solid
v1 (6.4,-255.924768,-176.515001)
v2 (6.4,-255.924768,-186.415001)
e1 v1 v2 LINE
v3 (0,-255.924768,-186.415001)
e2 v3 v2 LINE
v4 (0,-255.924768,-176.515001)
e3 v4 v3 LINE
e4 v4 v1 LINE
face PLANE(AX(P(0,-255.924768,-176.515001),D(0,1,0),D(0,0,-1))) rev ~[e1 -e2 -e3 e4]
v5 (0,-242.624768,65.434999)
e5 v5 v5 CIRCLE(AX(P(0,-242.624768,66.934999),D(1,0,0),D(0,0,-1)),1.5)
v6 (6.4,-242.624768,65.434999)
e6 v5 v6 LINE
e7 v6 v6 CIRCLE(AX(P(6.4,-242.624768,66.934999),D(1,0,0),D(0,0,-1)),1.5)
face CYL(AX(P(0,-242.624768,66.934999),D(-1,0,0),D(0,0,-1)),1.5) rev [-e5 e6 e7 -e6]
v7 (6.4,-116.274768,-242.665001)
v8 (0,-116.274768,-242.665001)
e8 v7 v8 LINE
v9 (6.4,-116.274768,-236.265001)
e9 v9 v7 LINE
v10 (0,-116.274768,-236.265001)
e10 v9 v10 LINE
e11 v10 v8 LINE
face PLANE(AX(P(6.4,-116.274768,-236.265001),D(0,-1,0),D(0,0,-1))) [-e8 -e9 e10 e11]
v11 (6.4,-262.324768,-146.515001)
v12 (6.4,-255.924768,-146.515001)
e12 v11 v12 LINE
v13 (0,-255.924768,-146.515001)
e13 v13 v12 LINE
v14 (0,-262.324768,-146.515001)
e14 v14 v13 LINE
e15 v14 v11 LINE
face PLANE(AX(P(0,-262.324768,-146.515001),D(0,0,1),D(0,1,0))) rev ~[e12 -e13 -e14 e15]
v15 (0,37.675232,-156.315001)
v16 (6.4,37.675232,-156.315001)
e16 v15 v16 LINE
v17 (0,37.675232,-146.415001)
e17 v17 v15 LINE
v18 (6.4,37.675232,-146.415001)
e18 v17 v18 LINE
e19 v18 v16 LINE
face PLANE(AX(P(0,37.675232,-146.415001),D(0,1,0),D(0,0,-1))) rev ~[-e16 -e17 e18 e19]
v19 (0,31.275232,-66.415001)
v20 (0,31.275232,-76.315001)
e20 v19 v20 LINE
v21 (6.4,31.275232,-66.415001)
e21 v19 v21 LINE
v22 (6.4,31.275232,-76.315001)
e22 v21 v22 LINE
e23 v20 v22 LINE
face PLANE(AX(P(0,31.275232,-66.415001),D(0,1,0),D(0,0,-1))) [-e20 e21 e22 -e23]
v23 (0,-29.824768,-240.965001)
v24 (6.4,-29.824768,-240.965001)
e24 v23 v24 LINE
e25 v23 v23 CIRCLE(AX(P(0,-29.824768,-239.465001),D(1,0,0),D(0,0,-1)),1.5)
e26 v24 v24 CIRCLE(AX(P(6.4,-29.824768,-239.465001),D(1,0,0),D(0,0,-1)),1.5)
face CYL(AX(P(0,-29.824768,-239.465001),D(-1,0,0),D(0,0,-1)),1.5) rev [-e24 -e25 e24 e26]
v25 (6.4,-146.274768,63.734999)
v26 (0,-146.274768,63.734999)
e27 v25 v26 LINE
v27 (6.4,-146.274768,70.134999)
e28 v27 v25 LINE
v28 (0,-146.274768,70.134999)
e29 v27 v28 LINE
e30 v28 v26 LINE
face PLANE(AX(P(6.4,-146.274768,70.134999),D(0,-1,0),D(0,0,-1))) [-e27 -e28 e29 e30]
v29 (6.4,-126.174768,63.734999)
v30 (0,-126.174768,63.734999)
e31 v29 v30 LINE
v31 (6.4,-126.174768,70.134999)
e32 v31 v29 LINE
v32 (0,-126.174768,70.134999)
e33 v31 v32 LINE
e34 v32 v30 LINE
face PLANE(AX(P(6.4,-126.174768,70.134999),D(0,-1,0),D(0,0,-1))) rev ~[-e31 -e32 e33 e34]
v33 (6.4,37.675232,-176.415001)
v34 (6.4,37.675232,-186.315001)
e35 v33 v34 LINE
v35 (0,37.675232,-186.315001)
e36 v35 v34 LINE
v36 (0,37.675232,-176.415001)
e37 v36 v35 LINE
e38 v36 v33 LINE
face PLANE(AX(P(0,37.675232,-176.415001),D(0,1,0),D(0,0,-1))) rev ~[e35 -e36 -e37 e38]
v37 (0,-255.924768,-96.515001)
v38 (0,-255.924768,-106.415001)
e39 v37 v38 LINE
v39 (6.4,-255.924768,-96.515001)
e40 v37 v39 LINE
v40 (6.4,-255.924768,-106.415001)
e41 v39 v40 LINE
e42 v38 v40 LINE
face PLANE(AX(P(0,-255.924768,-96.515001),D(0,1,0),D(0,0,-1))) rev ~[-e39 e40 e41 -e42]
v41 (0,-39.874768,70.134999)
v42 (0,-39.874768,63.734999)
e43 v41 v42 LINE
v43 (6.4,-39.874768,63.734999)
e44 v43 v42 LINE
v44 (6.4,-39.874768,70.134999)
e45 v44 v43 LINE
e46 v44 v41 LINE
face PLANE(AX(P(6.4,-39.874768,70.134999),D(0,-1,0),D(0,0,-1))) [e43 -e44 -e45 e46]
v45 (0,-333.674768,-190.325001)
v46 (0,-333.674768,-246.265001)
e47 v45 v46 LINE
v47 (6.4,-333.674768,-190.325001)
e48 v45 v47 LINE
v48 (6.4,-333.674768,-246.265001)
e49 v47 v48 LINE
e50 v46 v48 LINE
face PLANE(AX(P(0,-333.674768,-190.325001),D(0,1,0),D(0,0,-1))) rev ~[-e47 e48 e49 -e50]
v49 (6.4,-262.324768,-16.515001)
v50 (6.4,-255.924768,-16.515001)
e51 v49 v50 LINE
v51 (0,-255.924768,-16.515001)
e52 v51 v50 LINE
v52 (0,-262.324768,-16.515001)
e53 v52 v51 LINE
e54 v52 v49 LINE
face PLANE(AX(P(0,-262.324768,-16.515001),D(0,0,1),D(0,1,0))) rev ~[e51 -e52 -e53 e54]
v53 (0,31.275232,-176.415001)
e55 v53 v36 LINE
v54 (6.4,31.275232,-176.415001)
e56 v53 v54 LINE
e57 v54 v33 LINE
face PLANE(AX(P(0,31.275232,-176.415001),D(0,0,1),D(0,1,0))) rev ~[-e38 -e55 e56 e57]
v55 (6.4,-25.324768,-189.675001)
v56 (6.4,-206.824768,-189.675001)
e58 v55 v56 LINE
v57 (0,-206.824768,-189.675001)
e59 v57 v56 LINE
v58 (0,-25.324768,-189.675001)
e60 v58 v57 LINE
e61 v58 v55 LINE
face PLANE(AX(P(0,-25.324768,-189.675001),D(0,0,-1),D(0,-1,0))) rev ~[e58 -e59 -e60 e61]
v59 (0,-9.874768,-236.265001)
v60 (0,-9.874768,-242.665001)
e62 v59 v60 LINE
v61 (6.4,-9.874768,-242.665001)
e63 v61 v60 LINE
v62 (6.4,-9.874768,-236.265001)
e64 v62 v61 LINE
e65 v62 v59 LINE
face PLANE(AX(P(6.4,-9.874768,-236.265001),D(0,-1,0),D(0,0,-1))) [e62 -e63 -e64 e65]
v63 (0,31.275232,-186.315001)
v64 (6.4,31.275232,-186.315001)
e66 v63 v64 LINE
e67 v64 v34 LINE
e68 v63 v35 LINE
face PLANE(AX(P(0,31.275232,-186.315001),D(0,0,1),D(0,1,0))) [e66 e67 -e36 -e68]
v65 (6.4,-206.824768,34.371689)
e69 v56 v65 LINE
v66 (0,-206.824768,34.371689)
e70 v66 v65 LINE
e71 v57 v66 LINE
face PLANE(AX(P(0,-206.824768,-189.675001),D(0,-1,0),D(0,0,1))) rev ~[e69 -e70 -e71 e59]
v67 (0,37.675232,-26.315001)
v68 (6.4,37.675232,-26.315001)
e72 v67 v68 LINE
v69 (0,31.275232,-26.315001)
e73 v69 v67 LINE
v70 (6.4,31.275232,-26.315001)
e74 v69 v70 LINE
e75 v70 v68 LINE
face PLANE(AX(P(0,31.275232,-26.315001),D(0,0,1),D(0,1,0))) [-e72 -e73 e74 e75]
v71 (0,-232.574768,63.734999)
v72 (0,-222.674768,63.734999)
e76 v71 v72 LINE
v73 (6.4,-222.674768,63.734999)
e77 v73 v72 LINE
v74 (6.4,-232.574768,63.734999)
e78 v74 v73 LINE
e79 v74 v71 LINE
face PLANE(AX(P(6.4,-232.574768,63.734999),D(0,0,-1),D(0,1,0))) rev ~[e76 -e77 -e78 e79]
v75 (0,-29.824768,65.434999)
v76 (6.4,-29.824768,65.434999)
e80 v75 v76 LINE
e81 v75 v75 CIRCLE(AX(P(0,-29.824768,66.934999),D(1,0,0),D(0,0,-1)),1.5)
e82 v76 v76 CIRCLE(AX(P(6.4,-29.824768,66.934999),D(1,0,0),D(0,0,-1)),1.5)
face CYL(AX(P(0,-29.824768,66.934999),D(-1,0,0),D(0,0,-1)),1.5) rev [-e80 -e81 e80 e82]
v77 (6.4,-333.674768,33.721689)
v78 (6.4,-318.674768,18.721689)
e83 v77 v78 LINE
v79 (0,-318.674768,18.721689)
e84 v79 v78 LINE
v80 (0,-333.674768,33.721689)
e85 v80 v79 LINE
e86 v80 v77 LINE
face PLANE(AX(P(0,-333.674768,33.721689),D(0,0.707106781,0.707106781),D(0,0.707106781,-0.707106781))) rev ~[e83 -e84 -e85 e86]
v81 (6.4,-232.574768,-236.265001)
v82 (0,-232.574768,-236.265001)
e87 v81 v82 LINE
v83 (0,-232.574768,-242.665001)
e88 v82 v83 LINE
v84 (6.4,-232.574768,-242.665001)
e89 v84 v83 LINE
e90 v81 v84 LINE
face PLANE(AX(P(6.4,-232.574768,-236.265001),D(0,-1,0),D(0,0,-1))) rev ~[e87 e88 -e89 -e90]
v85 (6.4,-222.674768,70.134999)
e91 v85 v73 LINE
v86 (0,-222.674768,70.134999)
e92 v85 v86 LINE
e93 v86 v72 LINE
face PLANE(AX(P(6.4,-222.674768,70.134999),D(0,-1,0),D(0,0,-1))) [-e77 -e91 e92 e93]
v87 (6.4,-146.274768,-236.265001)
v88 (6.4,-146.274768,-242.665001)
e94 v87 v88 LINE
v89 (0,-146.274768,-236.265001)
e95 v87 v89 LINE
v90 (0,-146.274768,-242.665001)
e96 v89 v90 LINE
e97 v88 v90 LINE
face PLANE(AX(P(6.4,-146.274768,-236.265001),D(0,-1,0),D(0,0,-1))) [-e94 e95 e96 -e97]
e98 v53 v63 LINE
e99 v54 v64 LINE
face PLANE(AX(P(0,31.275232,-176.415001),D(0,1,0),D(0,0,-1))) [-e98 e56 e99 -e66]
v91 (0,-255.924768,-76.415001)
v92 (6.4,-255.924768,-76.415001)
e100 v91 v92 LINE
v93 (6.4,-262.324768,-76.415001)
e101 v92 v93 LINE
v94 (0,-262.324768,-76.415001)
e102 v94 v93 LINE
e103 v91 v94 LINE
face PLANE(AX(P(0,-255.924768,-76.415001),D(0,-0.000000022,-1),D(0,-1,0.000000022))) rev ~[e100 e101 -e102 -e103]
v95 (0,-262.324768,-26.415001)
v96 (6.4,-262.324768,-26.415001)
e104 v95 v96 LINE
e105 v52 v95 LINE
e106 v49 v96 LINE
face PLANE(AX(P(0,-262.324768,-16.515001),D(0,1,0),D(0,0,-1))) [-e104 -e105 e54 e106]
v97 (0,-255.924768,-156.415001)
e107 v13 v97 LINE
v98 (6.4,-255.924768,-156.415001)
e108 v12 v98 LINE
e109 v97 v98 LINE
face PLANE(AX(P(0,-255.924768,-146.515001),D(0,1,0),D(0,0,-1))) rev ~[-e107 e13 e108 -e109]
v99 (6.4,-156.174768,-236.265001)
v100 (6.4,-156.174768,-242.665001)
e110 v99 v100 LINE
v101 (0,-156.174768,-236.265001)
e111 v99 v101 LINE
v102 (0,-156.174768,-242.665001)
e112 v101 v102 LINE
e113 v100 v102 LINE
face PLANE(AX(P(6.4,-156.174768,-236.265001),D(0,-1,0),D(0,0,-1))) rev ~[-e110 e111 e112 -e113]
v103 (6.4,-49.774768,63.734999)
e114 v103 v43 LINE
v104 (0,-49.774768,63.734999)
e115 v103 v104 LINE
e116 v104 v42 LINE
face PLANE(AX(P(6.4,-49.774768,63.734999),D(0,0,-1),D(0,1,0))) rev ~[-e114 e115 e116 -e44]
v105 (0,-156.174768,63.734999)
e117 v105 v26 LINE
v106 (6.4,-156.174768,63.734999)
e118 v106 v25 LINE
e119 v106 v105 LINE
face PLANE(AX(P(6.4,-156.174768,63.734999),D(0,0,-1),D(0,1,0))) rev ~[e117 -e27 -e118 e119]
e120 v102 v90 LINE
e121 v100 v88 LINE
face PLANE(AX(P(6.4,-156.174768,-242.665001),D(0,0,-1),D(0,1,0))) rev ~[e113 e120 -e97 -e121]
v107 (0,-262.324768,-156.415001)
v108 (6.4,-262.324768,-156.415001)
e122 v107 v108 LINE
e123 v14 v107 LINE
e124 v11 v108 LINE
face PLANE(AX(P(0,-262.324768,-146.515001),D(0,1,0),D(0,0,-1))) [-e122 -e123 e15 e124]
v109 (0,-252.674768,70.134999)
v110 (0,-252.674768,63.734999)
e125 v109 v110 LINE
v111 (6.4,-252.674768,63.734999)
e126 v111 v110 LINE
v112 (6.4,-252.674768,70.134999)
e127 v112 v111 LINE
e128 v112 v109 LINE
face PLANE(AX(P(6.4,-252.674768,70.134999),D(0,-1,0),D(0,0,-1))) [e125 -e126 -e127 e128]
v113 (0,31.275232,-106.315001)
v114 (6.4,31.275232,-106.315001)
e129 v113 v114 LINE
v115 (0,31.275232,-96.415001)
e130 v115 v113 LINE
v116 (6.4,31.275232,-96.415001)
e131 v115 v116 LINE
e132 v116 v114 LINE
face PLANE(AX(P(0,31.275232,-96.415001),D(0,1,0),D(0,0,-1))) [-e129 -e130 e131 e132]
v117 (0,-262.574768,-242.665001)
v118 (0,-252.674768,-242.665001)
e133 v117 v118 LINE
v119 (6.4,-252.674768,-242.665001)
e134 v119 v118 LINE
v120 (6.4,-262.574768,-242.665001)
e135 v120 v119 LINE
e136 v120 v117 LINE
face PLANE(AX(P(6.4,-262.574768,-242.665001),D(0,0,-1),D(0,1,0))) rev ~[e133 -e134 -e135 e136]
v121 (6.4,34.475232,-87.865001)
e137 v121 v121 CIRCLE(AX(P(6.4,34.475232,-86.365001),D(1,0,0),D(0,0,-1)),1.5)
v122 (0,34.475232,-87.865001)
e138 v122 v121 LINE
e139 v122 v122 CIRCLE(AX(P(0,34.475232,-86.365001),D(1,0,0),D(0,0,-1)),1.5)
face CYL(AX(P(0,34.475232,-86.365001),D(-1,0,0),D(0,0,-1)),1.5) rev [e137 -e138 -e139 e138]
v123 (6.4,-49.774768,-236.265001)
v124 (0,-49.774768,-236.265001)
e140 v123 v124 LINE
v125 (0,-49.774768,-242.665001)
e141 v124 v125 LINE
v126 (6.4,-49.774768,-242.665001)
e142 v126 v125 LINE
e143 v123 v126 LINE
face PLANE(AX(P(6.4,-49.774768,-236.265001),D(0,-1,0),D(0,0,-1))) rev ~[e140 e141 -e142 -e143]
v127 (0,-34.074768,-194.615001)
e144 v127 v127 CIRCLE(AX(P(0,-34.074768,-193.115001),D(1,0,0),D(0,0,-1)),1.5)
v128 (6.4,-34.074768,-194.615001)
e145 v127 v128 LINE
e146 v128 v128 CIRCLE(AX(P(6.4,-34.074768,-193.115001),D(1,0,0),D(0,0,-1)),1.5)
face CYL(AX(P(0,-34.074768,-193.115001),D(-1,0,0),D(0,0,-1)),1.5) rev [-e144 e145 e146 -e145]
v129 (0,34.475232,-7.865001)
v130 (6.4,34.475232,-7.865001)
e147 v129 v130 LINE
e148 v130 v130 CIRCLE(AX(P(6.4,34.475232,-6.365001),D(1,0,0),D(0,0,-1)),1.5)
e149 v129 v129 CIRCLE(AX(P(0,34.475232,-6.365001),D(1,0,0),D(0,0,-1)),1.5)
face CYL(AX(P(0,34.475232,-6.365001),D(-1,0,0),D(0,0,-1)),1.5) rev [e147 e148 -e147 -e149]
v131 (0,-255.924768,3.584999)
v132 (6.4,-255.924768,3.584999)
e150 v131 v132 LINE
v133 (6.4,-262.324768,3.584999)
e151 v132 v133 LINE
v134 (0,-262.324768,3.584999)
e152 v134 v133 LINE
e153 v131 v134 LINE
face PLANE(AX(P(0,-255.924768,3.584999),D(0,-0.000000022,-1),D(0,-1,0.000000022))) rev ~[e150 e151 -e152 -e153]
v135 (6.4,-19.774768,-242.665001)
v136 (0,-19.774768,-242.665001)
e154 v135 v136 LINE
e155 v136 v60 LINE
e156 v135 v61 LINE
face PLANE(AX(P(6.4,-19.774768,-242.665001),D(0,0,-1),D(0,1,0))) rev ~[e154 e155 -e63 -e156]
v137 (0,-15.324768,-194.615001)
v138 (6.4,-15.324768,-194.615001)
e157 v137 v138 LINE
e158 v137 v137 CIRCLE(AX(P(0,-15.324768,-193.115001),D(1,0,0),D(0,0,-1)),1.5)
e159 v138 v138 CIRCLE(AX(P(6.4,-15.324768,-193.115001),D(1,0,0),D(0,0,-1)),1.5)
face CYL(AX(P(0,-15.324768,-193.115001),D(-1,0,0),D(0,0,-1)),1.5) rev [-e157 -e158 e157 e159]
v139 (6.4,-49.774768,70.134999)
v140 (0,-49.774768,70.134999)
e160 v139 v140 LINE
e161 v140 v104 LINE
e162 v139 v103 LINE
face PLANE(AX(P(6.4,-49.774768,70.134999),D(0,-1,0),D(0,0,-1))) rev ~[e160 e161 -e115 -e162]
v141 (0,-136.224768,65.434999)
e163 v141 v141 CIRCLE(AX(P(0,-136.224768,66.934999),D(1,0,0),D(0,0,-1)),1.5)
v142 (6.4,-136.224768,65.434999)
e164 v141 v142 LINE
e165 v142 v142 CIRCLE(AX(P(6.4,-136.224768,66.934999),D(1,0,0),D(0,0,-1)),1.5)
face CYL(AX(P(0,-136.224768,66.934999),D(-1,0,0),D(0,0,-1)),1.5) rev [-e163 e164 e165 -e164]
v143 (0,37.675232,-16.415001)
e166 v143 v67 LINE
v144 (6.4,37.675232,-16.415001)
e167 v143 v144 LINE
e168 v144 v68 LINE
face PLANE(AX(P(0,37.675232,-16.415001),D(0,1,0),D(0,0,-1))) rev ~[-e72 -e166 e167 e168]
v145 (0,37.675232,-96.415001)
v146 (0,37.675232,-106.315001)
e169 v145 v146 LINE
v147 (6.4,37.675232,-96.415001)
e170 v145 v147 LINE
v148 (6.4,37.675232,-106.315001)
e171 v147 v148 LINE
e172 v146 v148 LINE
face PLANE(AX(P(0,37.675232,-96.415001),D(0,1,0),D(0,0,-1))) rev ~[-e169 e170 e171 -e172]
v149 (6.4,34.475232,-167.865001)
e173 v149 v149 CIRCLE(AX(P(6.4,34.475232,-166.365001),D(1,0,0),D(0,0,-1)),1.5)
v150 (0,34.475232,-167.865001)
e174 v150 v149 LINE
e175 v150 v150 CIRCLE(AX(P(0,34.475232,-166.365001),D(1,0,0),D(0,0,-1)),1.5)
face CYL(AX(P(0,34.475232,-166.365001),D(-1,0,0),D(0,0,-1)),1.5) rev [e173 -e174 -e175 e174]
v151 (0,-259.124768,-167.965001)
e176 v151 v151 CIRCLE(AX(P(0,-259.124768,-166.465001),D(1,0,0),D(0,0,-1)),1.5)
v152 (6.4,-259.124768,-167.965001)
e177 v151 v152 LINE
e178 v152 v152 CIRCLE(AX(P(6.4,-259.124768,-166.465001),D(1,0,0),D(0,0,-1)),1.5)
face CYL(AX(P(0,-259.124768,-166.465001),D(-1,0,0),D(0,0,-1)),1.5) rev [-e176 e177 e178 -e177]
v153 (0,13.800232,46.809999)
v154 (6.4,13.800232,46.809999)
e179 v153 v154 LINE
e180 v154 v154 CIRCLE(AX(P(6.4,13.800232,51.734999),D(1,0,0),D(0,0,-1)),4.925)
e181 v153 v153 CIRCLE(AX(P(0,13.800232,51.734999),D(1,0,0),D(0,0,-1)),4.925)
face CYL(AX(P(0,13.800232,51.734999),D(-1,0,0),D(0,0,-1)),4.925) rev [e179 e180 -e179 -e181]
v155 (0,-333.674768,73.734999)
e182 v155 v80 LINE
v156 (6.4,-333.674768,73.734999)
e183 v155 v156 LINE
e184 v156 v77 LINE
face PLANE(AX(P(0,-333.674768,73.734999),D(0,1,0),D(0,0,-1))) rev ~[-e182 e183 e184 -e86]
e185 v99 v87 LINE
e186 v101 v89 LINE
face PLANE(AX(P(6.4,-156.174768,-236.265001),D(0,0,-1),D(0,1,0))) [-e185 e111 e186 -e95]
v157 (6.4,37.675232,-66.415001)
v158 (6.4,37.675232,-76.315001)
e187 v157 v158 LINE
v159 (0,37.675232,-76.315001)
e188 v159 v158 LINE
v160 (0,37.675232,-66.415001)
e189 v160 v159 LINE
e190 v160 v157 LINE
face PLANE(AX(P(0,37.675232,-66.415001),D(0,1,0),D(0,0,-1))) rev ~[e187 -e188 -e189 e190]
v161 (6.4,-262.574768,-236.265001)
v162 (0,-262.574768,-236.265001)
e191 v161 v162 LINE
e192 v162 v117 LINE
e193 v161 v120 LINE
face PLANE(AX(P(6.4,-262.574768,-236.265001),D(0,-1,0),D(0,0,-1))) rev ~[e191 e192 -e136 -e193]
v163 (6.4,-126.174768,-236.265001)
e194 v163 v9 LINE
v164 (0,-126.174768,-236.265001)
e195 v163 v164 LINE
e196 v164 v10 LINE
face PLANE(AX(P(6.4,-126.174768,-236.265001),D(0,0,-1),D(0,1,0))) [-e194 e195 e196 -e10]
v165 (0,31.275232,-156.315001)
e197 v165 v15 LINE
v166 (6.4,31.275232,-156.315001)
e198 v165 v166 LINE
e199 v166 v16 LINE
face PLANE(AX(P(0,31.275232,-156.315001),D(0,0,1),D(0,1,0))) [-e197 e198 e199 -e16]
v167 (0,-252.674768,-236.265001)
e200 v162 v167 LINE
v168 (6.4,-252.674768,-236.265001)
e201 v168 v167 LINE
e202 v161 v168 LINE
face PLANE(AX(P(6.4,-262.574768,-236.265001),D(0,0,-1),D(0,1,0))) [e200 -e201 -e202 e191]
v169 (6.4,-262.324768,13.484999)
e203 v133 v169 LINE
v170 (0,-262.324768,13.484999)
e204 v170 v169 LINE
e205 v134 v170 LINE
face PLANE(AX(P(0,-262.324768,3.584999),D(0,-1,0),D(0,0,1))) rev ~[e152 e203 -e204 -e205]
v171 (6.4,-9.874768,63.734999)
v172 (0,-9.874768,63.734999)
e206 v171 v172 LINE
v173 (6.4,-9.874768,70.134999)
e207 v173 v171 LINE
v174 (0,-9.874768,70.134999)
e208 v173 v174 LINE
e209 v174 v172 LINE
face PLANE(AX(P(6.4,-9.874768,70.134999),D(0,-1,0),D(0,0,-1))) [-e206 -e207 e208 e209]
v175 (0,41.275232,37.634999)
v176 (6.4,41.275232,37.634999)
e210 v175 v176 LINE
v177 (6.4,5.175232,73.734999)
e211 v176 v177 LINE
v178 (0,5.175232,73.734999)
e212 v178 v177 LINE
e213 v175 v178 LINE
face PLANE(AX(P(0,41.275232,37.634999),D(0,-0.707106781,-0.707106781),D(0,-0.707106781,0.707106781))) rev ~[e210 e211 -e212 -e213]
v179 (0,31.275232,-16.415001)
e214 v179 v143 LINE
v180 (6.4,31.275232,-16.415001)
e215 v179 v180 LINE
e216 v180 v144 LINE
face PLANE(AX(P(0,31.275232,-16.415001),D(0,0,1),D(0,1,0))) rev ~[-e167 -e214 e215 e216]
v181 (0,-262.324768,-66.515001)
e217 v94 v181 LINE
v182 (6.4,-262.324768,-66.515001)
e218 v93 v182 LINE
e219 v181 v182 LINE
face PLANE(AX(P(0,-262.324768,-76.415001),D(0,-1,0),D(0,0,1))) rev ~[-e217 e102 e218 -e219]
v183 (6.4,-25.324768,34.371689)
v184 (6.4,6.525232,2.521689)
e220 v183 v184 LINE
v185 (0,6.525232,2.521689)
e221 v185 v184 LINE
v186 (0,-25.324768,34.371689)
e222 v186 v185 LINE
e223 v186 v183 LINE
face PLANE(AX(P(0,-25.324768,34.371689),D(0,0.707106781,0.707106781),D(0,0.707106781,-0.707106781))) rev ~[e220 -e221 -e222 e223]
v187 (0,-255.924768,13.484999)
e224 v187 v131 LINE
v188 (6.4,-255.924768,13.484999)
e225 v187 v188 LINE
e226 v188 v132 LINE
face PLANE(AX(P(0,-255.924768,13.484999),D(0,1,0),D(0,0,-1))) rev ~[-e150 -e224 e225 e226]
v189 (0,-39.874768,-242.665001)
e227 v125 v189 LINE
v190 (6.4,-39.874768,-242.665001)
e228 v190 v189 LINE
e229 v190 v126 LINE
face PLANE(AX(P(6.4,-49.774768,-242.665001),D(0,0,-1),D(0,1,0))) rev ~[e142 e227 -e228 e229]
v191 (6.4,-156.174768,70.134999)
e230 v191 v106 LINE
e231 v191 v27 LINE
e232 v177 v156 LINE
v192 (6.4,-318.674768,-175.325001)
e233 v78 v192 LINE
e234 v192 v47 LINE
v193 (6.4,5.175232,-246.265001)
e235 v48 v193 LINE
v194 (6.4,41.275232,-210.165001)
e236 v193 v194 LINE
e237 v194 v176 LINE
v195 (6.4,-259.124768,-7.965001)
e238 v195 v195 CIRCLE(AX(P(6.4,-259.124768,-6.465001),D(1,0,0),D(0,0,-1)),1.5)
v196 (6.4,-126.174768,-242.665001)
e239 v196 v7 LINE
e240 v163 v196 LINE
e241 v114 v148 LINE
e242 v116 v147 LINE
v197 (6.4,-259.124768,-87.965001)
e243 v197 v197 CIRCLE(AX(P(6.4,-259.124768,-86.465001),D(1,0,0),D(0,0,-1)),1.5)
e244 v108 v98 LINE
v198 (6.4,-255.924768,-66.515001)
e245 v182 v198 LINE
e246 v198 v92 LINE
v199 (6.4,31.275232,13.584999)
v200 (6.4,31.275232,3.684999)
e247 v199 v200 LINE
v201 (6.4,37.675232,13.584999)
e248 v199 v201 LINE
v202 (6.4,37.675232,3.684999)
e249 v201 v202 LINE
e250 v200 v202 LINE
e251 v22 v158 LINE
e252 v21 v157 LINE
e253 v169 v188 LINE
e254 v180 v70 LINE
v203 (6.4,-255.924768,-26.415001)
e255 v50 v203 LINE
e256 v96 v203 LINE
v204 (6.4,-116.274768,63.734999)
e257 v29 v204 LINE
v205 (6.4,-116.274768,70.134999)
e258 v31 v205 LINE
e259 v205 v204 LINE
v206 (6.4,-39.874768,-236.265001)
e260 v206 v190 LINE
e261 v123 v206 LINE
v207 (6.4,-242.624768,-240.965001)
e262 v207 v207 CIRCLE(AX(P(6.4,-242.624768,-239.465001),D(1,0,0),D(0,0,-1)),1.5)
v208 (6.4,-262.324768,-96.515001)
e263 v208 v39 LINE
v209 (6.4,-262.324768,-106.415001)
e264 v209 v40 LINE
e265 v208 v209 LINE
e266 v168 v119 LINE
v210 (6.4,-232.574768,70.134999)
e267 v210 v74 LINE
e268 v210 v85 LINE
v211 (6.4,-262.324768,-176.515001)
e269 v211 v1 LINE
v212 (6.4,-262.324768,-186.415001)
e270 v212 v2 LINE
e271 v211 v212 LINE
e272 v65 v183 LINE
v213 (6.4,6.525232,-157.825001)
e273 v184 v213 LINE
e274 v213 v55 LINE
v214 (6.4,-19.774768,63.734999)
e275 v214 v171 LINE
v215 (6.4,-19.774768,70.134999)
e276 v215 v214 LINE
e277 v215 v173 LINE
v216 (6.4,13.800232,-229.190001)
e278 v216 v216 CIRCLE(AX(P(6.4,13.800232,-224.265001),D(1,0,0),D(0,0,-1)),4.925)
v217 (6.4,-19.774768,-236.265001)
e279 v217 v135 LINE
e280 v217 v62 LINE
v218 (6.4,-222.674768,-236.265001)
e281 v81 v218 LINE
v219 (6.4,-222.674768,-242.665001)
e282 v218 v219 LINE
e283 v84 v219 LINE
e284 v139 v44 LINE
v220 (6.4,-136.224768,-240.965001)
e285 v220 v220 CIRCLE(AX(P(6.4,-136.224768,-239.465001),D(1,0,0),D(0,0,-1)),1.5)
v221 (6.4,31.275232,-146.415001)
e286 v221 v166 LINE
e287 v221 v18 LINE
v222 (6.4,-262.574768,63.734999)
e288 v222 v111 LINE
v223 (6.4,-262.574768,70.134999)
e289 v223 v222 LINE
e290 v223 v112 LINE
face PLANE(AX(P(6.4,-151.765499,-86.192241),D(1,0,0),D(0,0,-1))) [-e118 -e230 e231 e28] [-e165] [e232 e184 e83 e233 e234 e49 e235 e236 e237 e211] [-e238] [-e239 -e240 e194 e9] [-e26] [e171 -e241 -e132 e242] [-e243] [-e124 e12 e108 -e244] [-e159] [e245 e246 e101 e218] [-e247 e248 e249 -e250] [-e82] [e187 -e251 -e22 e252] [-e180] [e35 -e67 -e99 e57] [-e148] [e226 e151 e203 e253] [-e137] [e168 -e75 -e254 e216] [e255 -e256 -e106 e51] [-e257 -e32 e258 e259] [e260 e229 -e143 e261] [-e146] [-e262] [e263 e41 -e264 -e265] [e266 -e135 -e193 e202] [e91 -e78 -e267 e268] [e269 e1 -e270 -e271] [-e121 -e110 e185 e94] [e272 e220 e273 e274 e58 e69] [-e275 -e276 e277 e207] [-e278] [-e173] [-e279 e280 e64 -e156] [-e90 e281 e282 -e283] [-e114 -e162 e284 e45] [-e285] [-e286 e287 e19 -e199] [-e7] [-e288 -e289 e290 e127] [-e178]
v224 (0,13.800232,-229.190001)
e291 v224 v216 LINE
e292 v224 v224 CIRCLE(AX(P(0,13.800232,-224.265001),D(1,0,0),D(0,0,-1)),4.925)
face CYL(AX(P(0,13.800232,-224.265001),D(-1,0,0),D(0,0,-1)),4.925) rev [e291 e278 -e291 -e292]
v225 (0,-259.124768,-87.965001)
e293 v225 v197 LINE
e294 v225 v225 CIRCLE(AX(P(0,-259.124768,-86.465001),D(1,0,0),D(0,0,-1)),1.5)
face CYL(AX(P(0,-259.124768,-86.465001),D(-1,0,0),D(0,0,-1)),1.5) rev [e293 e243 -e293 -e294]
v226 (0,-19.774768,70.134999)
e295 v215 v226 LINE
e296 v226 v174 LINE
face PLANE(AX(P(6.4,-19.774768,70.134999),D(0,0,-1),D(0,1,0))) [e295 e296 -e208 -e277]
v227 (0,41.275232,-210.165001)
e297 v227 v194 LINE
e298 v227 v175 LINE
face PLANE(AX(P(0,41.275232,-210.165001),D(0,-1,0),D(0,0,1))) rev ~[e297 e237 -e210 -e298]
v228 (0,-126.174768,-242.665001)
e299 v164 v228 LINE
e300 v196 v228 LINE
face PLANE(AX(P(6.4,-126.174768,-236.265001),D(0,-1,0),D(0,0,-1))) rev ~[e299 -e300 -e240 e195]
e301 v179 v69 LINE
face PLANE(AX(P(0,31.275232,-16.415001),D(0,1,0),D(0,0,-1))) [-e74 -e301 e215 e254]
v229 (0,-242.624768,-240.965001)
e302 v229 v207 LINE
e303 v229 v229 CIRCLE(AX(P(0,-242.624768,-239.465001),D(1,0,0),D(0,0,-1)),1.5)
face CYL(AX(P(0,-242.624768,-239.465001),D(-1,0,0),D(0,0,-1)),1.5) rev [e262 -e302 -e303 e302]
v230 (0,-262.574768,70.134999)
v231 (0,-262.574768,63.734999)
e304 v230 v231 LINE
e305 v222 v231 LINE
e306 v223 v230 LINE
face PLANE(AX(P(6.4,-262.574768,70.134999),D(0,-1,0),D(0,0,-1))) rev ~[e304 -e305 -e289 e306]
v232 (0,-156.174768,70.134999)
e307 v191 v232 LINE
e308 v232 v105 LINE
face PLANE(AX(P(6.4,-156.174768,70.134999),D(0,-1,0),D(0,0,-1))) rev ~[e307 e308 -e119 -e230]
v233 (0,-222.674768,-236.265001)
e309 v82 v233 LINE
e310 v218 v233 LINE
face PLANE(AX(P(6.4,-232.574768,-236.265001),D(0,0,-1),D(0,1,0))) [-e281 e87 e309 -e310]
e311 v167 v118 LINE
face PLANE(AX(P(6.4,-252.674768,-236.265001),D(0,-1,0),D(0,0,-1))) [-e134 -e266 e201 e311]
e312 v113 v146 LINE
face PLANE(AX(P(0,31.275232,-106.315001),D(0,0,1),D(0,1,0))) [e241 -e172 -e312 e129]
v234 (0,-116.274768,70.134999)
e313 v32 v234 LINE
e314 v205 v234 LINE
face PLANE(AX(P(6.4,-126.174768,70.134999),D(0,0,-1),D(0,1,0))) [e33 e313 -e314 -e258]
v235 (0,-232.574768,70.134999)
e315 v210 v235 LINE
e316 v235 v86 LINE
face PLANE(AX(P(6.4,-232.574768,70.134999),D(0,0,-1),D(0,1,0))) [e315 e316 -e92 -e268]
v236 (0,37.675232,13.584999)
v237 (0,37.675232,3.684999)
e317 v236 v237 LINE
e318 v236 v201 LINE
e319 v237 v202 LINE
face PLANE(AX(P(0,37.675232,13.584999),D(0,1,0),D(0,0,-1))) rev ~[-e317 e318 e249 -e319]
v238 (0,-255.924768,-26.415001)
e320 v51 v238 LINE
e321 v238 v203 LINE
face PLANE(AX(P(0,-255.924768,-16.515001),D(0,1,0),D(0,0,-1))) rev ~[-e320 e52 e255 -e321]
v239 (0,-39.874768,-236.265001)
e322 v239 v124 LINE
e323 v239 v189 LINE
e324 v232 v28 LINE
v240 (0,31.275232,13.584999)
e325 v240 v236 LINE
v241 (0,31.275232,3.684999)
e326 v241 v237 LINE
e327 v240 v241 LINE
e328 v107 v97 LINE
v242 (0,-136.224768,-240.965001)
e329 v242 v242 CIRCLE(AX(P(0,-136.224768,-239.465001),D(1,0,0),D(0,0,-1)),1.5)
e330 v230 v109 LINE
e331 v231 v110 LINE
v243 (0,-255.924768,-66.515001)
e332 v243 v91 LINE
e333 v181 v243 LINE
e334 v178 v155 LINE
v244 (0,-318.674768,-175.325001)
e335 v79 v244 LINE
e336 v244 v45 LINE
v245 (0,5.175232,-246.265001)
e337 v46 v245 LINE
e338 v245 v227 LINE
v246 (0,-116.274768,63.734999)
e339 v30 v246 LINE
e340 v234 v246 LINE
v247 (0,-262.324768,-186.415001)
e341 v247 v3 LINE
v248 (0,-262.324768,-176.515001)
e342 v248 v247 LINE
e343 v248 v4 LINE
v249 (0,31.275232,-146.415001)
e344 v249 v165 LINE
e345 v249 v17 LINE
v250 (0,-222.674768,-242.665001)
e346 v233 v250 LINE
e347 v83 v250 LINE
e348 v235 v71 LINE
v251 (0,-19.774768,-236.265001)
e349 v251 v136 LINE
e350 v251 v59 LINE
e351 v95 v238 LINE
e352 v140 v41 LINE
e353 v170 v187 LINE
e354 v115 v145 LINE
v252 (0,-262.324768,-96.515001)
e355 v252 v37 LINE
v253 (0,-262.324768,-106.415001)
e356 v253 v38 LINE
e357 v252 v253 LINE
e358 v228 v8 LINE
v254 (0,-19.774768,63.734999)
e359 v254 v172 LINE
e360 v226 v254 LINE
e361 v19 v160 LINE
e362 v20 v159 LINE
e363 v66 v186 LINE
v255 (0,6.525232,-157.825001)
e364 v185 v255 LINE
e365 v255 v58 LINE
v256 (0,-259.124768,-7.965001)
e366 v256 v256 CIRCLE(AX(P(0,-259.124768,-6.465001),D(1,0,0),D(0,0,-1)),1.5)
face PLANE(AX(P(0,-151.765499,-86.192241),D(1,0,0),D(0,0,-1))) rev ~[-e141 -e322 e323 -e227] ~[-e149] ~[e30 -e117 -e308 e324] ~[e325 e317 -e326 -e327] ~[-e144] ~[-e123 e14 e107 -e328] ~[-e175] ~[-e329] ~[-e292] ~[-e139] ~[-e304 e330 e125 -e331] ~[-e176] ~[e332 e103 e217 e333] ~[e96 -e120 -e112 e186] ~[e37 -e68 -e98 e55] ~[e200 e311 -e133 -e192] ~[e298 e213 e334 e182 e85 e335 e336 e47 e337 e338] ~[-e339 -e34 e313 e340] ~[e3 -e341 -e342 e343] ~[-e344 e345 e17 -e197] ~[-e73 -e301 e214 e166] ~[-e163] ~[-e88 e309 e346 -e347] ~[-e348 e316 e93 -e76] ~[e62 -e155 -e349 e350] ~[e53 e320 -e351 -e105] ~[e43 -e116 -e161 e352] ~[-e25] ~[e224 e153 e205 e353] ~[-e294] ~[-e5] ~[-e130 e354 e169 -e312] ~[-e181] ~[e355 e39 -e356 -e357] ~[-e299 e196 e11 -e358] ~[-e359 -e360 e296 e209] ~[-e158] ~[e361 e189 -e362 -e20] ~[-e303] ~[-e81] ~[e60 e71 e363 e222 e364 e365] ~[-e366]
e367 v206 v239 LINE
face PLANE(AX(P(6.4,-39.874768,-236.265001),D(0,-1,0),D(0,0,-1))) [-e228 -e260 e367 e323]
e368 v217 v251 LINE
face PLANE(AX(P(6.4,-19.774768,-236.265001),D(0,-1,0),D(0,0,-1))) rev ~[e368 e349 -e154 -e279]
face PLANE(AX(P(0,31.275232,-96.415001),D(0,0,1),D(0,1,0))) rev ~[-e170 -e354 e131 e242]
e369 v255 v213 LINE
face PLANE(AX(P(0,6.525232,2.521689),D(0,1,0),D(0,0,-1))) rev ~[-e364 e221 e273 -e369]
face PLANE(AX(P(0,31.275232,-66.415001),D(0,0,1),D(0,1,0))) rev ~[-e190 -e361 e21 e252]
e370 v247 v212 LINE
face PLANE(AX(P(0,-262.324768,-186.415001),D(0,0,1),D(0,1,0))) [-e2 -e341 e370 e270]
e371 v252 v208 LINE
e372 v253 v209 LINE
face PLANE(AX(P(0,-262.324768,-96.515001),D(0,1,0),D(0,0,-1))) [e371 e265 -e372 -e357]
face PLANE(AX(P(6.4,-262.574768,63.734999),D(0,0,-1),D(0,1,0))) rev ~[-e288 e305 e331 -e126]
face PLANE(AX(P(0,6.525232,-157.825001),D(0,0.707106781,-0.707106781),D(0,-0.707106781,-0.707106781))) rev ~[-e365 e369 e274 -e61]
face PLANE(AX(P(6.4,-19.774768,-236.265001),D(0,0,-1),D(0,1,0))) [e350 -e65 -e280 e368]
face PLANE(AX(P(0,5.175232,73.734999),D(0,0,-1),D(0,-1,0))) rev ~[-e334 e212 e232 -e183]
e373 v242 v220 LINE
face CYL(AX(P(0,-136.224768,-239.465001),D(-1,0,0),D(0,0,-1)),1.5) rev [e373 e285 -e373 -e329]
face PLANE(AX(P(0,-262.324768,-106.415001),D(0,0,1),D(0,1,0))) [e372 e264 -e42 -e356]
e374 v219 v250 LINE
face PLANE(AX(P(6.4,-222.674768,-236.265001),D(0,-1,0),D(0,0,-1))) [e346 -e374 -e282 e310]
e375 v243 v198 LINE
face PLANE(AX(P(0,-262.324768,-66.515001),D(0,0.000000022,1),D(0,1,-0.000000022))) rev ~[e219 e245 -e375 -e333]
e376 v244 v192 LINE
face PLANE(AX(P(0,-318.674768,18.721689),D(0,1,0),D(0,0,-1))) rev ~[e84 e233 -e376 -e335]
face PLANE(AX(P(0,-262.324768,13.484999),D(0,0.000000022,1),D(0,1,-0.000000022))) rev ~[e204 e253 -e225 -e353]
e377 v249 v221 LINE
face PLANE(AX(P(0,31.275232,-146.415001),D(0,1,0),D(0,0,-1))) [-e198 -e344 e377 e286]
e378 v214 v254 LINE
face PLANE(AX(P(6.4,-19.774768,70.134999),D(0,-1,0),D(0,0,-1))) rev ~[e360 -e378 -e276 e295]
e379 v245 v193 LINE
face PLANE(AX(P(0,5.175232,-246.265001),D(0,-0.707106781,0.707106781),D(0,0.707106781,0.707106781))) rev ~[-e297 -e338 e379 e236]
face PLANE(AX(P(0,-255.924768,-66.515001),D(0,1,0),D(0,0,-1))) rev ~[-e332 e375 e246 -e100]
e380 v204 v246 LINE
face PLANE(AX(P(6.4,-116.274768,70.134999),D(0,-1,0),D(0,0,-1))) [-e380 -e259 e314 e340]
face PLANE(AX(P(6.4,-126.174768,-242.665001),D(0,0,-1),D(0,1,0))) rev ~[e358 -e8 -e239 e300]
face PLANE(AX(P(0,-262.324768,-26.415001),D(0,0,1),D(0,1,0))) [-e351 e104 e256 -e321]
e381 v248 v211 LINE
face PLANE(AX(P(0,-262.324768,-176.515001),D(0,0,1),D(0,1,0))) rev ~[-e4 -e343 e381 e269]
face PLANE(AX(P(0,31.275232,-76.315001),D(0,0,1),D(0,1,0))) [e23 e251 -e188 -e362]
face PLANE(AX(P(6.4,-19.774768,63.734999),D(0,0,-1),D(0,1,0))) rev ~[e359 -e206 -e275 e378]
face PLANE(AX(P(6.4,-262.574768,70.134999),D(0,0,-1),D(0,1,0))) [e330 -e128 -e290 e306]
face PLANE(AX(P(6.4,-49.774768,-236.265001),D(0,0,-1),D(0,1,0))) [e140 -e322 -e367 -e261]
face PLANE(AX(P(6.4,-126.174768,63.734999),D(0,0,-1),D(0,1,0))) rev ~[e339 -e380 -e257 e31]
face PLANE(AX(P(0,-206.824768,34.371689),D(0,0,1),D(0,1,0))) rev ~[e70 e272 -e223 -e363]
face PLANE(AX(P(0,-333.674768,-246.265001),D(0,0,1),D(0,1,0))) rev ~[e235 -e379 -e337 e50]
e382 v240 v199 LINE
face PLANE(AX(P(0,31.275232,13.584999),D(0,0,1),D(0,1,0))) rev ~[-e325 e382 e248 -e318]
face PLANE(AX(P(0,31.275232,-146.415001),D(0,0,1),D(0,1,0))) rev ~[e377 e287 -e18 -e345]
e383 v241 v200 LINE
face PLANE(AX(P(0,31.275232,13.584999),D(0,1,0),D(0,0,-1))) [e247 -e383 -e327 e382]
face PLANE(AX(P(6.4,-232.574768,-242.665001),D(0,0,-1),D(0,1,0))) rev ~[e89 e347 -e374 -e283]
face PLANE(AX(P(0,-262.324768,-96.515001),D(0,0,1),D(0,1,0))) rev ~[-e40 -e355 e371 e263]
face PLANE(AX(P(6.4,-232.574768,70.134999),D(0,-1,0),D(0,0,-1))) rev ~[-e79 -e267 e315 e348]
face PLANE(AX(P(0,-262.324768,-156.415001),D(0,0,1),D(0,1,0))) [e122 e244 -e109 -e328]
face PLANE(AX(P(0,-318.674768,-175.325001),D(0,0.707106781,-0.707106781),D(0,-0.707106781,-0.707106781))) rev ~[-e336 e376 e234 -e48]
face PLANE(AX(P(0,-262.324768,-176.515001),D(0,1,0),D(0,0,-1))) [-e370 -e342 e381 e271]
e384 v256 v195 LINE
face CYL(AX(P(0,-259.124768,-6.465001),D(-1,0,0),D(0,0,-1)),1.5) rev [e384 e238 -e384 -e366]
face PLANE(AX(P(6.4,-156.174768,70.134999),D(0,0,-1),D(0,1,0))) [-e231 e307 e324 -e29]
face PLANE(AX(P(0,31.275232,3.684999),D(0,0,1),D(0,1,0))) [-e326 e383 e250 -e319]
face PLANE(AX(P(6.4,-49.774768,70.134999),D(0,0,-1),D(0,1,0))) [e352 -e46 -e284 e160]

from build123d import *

# Parameters (mm, degrees)
SKETCH1_R           = 1.5
SKETCH1_R_2         = 4.925
SKETCH1_W           = 9.9
SKETCH1_H           = 6.4
SKETCH1_W_2         = 6.4
SKETCH1_H_2         = 9.4
BOSS_EXTRUDE1_DEPTH = 6.4
SKETCH2_R           = 1.5
SKETCH2_W           = 6.4
SKETCH2_H           = 9.9
CUT_EXTRUDE1_DEPTH  = 415.760486883


with BuildPart() as part:
    # Sketch1 → Boss-Extrude1 (new body)
    with BuildSketch(Plane(origin=(0, 0, 0), x_dir=(0, 0, -1), z_dir=(1, 0, 0))):
        Polygon((210.165001125, 41.275232149), (-37.634998875, 41.275232149), (-73.734998875, 5.175232149), (-73.734998875, -333.674767851), (-33.721689147, -333.674767851), (-18.721689147, -318.674767851), (175.325001125, -318.674767851), (190.325001125, -333.674767851), (246.265001125, -333.674767851), (246.265001125, 5.175232149), align=None)
        with Locations((6.365001125, 34.475232149)):
            Circle(SKETCH1_R, mode=Mode.SUBTRACT)
        with Locations((86.365001125, 34.475232149)):
            Circle(SKETCH1_R, mode=Mode.SUBTRACT)
        with Locations((166.365001125, 34.475232149)):
            Circle(SKETCH1_R, mode=Mode.SUBTRACT)
        with Locations((86.46500109, -259.124767851)):
            Circle(SKETCH1_R, mode=Mode.SUBTRACT)
        with Locations((166.465001125, -259.124767851)):
            Circle(SKETCH1_R, mode=Mode.SUBTRACT)
        with Locations((6.46500109, -259.124767851)):
            Circle(SKETCH1_R, mode=Mode.SUBTRACT)
        with Locations((239.465001125, -29.824767851)):
            Circle(SKETCH1_R, mode=Mode.SUBTRACT)
        with Locations((239.465001125, -136.224767851)):
            Circle(SKETCH1_R, mode=Mode.SUBTRACT)
        with Locations((239.465001125, -242.624767851)):
            Circle(SKETCH1_R, mode=Mode.SUBTRACT)
        with Locations((-66.934998875, -242.624767851)):
            Circle(SKETCH1_R, mode=Mode.SUBTRACT)
        with Locations((-66.934998875, -136.224767851)):
            Circle(SKETCH1_R, mode=Mode.SUBTRACT)
        with Locations((-66.934998875, -29.824767851)):
            Circle(SKETCH1_R, mode=Mode.SUBTRACT)
        with Locations((224.265001125, 13.800232149)):
            Circle(SKETCH1_R_2, mode=Mode.SUBTRACT)
        with Locations((-51.734998875, 13.800232149)):
            Circle(SKETCH1_R_2, mode=Mode.SUBTRACT)
        with Locations((193.115001125, -15.324767851)):
            Circle(SKETCH1_R, mode=Mode.SUBTRACT)
        with Locations((193.115001125, -34.074767851)):
            Circle(SKETCH1_R, mode=Mode.SUBTRACT)
        with Locations((151.365001054, 34.475232149)):
            Rectangle(SKETCH1_W, SKETCH1_H, mode=Mode.SUBTRACT)
        with Locations((181.365001197, 34.475232149)):
            Rectangle(SKETCH1_W, SKETCH1_H, mode=Mode.SUBTRACT)
        with Locations((71.365001054, 34.475232149)):
            Rectangle(SKETCH1_W, SKETCH1_H, mode=Mode.SUBTRACT)
        with Locations((101.365001197, 34.475232149)):
            Rectangle(SKETCH1_W, SKETCH1_H, mode=Mode.SUBTRACT)
        with Locations((21.465001197, -259.124767851)):
            Rectangle(SKETCH1_W, SKETCH1_H, mode=Mode.SUBTRACT)
        Polygon((157.825001125, 6.525232149), (189.675001125, -25.324767851), (189.675001125, -206.824767851), (-34.371689147, -206.824767851), (-34.371689147, -25.324767851), (-2.521689147, 6.525232149), align=None, mode=Mode.SUBTRACT)
        Polygon((-3.584998946, -255.924767851), (-3.584999089, -262.324767851), (-13.484999089, -262.324767851), (-13.484998946, -255.924767851), align=None, mode=Mode.SUBTRACT)
        with Locations((101.465001197, -259.124767851)):
            Rectangle(SKETCH1_W, SKETCH1_H, mode=Mode.SUBTRACT)
        with Locations((-8.634998946, 34.475232149)):
            Rectangle(SKETCH1_W, SKETCH1_H, mode=Mode.SUBTRACT)
        with Locations((21.365001197, 34.475232149)):
            Rectangle(SKETCH1_W, SKETCH1_H, mode=Mode.SUBTRACT)
        Polygon((76.415001054, -255.924767851), (76.415000911, -262.324767851), (66.515000911, -262.324767851), (66.515001054, -255.924767851), align=None, mode=Mode.SUBTRACT)
        with Locations((239.465001125, -44.824767851)):
            Rectangle(SKETCH1_W_2, SKETCH1_H_2, mode=Mode.SUBTRACT)
        with Locations((151.465001125, -259.124767851)):
            Rectangle(SKETCH1_W, SKETCH1_H, mode=Mode.SUBTRACT)
        with Locations((181.465001125, -259.124767851)):
            Rectangle(SKETCH1_W, SKETCH1_H, mode=Mode.SUBTRACT)
    extrude(amount=BOSS_EXTRUDE1_DEPTH)

    # Sketch2 → Cut-Extrude1 (cut, through all)
    with BuildSketch(Plane(origin=(6.4, 0, 0), x_dir=(0, 0, -1), z_dir=(1, 0, 0))):
        with Locations((-66.934998875, -242.624767851)):
            Circle(SKETCH2_R)
        with Locations((-66.934998875, -136.224767851)):
            Circle(SKETCH2_R)
        with Locations((-66.934998875, -29.824767851)):
            Circle(SKETCH2_R)
        with Locations((239.465001125, -136.224767851)):
            Circle(SKETCH2_R)
        with Locations((239.465001125, -242.624767851)):
            Circle(SKETCH2_R)
        with Locations((239.465001125, -29.824767851)):
            Circle(SKETCH2_R)
        with Locations((-66.934998875, -257.624767851)):
            Rectangle(SKETCH2_W, SKETCH2_H)
        with Locations((-66.934998875, -227.624767851)):
            Rectangle(SKETCH2_W, SKETCH2_H)
        with Locations((-66.934998875, -121.224767851)):
            Rectangle(SKETCH2_W, SKETCH2_H)
        with Locations((-66.934998875, -151.224767851)):
            Rectangle(SKETCH2_W, SKETCH2_H)
        with Locations((-66.934998875, -14.824767851)):
            Rectangle(SKETCH2_W, SKETCH2_H)
        with Locations((-66.934998875, -44.824767851)):
            Rectangle(SKETCH2_W, SKETCH2_H)
        with Locations((239.465001125, -121.224767851)):
            Rectangle(SKETCH2_W, SKETCH2_H)
        with Locations((239.465001125, -151.224767851)):
            Rectangle(SKETCH2_W, SKETCH2_H)
        with Locations((239.465001125, -227.624767851)):
            Rectangle(SKETCH2_W, SKETCH2_H)
        with Locations((239.465001125, -257.624767851)):
            Rectangle(SKETCH2_W, SKETCH2_H)
        with Locations((239.465001125, -14.824767851)):
            Rectangle(SKETCH2_W, SKETCH2_H)
        with Locations((239.465001125, -44.824767851)):
            Rectangle(SKETCH2_W, SKETCH2_H)
    extrude(amount=-CUT_EXTRUDE1_DEPTH, mode=Mode.SUBTRACT)


solid = part.part
